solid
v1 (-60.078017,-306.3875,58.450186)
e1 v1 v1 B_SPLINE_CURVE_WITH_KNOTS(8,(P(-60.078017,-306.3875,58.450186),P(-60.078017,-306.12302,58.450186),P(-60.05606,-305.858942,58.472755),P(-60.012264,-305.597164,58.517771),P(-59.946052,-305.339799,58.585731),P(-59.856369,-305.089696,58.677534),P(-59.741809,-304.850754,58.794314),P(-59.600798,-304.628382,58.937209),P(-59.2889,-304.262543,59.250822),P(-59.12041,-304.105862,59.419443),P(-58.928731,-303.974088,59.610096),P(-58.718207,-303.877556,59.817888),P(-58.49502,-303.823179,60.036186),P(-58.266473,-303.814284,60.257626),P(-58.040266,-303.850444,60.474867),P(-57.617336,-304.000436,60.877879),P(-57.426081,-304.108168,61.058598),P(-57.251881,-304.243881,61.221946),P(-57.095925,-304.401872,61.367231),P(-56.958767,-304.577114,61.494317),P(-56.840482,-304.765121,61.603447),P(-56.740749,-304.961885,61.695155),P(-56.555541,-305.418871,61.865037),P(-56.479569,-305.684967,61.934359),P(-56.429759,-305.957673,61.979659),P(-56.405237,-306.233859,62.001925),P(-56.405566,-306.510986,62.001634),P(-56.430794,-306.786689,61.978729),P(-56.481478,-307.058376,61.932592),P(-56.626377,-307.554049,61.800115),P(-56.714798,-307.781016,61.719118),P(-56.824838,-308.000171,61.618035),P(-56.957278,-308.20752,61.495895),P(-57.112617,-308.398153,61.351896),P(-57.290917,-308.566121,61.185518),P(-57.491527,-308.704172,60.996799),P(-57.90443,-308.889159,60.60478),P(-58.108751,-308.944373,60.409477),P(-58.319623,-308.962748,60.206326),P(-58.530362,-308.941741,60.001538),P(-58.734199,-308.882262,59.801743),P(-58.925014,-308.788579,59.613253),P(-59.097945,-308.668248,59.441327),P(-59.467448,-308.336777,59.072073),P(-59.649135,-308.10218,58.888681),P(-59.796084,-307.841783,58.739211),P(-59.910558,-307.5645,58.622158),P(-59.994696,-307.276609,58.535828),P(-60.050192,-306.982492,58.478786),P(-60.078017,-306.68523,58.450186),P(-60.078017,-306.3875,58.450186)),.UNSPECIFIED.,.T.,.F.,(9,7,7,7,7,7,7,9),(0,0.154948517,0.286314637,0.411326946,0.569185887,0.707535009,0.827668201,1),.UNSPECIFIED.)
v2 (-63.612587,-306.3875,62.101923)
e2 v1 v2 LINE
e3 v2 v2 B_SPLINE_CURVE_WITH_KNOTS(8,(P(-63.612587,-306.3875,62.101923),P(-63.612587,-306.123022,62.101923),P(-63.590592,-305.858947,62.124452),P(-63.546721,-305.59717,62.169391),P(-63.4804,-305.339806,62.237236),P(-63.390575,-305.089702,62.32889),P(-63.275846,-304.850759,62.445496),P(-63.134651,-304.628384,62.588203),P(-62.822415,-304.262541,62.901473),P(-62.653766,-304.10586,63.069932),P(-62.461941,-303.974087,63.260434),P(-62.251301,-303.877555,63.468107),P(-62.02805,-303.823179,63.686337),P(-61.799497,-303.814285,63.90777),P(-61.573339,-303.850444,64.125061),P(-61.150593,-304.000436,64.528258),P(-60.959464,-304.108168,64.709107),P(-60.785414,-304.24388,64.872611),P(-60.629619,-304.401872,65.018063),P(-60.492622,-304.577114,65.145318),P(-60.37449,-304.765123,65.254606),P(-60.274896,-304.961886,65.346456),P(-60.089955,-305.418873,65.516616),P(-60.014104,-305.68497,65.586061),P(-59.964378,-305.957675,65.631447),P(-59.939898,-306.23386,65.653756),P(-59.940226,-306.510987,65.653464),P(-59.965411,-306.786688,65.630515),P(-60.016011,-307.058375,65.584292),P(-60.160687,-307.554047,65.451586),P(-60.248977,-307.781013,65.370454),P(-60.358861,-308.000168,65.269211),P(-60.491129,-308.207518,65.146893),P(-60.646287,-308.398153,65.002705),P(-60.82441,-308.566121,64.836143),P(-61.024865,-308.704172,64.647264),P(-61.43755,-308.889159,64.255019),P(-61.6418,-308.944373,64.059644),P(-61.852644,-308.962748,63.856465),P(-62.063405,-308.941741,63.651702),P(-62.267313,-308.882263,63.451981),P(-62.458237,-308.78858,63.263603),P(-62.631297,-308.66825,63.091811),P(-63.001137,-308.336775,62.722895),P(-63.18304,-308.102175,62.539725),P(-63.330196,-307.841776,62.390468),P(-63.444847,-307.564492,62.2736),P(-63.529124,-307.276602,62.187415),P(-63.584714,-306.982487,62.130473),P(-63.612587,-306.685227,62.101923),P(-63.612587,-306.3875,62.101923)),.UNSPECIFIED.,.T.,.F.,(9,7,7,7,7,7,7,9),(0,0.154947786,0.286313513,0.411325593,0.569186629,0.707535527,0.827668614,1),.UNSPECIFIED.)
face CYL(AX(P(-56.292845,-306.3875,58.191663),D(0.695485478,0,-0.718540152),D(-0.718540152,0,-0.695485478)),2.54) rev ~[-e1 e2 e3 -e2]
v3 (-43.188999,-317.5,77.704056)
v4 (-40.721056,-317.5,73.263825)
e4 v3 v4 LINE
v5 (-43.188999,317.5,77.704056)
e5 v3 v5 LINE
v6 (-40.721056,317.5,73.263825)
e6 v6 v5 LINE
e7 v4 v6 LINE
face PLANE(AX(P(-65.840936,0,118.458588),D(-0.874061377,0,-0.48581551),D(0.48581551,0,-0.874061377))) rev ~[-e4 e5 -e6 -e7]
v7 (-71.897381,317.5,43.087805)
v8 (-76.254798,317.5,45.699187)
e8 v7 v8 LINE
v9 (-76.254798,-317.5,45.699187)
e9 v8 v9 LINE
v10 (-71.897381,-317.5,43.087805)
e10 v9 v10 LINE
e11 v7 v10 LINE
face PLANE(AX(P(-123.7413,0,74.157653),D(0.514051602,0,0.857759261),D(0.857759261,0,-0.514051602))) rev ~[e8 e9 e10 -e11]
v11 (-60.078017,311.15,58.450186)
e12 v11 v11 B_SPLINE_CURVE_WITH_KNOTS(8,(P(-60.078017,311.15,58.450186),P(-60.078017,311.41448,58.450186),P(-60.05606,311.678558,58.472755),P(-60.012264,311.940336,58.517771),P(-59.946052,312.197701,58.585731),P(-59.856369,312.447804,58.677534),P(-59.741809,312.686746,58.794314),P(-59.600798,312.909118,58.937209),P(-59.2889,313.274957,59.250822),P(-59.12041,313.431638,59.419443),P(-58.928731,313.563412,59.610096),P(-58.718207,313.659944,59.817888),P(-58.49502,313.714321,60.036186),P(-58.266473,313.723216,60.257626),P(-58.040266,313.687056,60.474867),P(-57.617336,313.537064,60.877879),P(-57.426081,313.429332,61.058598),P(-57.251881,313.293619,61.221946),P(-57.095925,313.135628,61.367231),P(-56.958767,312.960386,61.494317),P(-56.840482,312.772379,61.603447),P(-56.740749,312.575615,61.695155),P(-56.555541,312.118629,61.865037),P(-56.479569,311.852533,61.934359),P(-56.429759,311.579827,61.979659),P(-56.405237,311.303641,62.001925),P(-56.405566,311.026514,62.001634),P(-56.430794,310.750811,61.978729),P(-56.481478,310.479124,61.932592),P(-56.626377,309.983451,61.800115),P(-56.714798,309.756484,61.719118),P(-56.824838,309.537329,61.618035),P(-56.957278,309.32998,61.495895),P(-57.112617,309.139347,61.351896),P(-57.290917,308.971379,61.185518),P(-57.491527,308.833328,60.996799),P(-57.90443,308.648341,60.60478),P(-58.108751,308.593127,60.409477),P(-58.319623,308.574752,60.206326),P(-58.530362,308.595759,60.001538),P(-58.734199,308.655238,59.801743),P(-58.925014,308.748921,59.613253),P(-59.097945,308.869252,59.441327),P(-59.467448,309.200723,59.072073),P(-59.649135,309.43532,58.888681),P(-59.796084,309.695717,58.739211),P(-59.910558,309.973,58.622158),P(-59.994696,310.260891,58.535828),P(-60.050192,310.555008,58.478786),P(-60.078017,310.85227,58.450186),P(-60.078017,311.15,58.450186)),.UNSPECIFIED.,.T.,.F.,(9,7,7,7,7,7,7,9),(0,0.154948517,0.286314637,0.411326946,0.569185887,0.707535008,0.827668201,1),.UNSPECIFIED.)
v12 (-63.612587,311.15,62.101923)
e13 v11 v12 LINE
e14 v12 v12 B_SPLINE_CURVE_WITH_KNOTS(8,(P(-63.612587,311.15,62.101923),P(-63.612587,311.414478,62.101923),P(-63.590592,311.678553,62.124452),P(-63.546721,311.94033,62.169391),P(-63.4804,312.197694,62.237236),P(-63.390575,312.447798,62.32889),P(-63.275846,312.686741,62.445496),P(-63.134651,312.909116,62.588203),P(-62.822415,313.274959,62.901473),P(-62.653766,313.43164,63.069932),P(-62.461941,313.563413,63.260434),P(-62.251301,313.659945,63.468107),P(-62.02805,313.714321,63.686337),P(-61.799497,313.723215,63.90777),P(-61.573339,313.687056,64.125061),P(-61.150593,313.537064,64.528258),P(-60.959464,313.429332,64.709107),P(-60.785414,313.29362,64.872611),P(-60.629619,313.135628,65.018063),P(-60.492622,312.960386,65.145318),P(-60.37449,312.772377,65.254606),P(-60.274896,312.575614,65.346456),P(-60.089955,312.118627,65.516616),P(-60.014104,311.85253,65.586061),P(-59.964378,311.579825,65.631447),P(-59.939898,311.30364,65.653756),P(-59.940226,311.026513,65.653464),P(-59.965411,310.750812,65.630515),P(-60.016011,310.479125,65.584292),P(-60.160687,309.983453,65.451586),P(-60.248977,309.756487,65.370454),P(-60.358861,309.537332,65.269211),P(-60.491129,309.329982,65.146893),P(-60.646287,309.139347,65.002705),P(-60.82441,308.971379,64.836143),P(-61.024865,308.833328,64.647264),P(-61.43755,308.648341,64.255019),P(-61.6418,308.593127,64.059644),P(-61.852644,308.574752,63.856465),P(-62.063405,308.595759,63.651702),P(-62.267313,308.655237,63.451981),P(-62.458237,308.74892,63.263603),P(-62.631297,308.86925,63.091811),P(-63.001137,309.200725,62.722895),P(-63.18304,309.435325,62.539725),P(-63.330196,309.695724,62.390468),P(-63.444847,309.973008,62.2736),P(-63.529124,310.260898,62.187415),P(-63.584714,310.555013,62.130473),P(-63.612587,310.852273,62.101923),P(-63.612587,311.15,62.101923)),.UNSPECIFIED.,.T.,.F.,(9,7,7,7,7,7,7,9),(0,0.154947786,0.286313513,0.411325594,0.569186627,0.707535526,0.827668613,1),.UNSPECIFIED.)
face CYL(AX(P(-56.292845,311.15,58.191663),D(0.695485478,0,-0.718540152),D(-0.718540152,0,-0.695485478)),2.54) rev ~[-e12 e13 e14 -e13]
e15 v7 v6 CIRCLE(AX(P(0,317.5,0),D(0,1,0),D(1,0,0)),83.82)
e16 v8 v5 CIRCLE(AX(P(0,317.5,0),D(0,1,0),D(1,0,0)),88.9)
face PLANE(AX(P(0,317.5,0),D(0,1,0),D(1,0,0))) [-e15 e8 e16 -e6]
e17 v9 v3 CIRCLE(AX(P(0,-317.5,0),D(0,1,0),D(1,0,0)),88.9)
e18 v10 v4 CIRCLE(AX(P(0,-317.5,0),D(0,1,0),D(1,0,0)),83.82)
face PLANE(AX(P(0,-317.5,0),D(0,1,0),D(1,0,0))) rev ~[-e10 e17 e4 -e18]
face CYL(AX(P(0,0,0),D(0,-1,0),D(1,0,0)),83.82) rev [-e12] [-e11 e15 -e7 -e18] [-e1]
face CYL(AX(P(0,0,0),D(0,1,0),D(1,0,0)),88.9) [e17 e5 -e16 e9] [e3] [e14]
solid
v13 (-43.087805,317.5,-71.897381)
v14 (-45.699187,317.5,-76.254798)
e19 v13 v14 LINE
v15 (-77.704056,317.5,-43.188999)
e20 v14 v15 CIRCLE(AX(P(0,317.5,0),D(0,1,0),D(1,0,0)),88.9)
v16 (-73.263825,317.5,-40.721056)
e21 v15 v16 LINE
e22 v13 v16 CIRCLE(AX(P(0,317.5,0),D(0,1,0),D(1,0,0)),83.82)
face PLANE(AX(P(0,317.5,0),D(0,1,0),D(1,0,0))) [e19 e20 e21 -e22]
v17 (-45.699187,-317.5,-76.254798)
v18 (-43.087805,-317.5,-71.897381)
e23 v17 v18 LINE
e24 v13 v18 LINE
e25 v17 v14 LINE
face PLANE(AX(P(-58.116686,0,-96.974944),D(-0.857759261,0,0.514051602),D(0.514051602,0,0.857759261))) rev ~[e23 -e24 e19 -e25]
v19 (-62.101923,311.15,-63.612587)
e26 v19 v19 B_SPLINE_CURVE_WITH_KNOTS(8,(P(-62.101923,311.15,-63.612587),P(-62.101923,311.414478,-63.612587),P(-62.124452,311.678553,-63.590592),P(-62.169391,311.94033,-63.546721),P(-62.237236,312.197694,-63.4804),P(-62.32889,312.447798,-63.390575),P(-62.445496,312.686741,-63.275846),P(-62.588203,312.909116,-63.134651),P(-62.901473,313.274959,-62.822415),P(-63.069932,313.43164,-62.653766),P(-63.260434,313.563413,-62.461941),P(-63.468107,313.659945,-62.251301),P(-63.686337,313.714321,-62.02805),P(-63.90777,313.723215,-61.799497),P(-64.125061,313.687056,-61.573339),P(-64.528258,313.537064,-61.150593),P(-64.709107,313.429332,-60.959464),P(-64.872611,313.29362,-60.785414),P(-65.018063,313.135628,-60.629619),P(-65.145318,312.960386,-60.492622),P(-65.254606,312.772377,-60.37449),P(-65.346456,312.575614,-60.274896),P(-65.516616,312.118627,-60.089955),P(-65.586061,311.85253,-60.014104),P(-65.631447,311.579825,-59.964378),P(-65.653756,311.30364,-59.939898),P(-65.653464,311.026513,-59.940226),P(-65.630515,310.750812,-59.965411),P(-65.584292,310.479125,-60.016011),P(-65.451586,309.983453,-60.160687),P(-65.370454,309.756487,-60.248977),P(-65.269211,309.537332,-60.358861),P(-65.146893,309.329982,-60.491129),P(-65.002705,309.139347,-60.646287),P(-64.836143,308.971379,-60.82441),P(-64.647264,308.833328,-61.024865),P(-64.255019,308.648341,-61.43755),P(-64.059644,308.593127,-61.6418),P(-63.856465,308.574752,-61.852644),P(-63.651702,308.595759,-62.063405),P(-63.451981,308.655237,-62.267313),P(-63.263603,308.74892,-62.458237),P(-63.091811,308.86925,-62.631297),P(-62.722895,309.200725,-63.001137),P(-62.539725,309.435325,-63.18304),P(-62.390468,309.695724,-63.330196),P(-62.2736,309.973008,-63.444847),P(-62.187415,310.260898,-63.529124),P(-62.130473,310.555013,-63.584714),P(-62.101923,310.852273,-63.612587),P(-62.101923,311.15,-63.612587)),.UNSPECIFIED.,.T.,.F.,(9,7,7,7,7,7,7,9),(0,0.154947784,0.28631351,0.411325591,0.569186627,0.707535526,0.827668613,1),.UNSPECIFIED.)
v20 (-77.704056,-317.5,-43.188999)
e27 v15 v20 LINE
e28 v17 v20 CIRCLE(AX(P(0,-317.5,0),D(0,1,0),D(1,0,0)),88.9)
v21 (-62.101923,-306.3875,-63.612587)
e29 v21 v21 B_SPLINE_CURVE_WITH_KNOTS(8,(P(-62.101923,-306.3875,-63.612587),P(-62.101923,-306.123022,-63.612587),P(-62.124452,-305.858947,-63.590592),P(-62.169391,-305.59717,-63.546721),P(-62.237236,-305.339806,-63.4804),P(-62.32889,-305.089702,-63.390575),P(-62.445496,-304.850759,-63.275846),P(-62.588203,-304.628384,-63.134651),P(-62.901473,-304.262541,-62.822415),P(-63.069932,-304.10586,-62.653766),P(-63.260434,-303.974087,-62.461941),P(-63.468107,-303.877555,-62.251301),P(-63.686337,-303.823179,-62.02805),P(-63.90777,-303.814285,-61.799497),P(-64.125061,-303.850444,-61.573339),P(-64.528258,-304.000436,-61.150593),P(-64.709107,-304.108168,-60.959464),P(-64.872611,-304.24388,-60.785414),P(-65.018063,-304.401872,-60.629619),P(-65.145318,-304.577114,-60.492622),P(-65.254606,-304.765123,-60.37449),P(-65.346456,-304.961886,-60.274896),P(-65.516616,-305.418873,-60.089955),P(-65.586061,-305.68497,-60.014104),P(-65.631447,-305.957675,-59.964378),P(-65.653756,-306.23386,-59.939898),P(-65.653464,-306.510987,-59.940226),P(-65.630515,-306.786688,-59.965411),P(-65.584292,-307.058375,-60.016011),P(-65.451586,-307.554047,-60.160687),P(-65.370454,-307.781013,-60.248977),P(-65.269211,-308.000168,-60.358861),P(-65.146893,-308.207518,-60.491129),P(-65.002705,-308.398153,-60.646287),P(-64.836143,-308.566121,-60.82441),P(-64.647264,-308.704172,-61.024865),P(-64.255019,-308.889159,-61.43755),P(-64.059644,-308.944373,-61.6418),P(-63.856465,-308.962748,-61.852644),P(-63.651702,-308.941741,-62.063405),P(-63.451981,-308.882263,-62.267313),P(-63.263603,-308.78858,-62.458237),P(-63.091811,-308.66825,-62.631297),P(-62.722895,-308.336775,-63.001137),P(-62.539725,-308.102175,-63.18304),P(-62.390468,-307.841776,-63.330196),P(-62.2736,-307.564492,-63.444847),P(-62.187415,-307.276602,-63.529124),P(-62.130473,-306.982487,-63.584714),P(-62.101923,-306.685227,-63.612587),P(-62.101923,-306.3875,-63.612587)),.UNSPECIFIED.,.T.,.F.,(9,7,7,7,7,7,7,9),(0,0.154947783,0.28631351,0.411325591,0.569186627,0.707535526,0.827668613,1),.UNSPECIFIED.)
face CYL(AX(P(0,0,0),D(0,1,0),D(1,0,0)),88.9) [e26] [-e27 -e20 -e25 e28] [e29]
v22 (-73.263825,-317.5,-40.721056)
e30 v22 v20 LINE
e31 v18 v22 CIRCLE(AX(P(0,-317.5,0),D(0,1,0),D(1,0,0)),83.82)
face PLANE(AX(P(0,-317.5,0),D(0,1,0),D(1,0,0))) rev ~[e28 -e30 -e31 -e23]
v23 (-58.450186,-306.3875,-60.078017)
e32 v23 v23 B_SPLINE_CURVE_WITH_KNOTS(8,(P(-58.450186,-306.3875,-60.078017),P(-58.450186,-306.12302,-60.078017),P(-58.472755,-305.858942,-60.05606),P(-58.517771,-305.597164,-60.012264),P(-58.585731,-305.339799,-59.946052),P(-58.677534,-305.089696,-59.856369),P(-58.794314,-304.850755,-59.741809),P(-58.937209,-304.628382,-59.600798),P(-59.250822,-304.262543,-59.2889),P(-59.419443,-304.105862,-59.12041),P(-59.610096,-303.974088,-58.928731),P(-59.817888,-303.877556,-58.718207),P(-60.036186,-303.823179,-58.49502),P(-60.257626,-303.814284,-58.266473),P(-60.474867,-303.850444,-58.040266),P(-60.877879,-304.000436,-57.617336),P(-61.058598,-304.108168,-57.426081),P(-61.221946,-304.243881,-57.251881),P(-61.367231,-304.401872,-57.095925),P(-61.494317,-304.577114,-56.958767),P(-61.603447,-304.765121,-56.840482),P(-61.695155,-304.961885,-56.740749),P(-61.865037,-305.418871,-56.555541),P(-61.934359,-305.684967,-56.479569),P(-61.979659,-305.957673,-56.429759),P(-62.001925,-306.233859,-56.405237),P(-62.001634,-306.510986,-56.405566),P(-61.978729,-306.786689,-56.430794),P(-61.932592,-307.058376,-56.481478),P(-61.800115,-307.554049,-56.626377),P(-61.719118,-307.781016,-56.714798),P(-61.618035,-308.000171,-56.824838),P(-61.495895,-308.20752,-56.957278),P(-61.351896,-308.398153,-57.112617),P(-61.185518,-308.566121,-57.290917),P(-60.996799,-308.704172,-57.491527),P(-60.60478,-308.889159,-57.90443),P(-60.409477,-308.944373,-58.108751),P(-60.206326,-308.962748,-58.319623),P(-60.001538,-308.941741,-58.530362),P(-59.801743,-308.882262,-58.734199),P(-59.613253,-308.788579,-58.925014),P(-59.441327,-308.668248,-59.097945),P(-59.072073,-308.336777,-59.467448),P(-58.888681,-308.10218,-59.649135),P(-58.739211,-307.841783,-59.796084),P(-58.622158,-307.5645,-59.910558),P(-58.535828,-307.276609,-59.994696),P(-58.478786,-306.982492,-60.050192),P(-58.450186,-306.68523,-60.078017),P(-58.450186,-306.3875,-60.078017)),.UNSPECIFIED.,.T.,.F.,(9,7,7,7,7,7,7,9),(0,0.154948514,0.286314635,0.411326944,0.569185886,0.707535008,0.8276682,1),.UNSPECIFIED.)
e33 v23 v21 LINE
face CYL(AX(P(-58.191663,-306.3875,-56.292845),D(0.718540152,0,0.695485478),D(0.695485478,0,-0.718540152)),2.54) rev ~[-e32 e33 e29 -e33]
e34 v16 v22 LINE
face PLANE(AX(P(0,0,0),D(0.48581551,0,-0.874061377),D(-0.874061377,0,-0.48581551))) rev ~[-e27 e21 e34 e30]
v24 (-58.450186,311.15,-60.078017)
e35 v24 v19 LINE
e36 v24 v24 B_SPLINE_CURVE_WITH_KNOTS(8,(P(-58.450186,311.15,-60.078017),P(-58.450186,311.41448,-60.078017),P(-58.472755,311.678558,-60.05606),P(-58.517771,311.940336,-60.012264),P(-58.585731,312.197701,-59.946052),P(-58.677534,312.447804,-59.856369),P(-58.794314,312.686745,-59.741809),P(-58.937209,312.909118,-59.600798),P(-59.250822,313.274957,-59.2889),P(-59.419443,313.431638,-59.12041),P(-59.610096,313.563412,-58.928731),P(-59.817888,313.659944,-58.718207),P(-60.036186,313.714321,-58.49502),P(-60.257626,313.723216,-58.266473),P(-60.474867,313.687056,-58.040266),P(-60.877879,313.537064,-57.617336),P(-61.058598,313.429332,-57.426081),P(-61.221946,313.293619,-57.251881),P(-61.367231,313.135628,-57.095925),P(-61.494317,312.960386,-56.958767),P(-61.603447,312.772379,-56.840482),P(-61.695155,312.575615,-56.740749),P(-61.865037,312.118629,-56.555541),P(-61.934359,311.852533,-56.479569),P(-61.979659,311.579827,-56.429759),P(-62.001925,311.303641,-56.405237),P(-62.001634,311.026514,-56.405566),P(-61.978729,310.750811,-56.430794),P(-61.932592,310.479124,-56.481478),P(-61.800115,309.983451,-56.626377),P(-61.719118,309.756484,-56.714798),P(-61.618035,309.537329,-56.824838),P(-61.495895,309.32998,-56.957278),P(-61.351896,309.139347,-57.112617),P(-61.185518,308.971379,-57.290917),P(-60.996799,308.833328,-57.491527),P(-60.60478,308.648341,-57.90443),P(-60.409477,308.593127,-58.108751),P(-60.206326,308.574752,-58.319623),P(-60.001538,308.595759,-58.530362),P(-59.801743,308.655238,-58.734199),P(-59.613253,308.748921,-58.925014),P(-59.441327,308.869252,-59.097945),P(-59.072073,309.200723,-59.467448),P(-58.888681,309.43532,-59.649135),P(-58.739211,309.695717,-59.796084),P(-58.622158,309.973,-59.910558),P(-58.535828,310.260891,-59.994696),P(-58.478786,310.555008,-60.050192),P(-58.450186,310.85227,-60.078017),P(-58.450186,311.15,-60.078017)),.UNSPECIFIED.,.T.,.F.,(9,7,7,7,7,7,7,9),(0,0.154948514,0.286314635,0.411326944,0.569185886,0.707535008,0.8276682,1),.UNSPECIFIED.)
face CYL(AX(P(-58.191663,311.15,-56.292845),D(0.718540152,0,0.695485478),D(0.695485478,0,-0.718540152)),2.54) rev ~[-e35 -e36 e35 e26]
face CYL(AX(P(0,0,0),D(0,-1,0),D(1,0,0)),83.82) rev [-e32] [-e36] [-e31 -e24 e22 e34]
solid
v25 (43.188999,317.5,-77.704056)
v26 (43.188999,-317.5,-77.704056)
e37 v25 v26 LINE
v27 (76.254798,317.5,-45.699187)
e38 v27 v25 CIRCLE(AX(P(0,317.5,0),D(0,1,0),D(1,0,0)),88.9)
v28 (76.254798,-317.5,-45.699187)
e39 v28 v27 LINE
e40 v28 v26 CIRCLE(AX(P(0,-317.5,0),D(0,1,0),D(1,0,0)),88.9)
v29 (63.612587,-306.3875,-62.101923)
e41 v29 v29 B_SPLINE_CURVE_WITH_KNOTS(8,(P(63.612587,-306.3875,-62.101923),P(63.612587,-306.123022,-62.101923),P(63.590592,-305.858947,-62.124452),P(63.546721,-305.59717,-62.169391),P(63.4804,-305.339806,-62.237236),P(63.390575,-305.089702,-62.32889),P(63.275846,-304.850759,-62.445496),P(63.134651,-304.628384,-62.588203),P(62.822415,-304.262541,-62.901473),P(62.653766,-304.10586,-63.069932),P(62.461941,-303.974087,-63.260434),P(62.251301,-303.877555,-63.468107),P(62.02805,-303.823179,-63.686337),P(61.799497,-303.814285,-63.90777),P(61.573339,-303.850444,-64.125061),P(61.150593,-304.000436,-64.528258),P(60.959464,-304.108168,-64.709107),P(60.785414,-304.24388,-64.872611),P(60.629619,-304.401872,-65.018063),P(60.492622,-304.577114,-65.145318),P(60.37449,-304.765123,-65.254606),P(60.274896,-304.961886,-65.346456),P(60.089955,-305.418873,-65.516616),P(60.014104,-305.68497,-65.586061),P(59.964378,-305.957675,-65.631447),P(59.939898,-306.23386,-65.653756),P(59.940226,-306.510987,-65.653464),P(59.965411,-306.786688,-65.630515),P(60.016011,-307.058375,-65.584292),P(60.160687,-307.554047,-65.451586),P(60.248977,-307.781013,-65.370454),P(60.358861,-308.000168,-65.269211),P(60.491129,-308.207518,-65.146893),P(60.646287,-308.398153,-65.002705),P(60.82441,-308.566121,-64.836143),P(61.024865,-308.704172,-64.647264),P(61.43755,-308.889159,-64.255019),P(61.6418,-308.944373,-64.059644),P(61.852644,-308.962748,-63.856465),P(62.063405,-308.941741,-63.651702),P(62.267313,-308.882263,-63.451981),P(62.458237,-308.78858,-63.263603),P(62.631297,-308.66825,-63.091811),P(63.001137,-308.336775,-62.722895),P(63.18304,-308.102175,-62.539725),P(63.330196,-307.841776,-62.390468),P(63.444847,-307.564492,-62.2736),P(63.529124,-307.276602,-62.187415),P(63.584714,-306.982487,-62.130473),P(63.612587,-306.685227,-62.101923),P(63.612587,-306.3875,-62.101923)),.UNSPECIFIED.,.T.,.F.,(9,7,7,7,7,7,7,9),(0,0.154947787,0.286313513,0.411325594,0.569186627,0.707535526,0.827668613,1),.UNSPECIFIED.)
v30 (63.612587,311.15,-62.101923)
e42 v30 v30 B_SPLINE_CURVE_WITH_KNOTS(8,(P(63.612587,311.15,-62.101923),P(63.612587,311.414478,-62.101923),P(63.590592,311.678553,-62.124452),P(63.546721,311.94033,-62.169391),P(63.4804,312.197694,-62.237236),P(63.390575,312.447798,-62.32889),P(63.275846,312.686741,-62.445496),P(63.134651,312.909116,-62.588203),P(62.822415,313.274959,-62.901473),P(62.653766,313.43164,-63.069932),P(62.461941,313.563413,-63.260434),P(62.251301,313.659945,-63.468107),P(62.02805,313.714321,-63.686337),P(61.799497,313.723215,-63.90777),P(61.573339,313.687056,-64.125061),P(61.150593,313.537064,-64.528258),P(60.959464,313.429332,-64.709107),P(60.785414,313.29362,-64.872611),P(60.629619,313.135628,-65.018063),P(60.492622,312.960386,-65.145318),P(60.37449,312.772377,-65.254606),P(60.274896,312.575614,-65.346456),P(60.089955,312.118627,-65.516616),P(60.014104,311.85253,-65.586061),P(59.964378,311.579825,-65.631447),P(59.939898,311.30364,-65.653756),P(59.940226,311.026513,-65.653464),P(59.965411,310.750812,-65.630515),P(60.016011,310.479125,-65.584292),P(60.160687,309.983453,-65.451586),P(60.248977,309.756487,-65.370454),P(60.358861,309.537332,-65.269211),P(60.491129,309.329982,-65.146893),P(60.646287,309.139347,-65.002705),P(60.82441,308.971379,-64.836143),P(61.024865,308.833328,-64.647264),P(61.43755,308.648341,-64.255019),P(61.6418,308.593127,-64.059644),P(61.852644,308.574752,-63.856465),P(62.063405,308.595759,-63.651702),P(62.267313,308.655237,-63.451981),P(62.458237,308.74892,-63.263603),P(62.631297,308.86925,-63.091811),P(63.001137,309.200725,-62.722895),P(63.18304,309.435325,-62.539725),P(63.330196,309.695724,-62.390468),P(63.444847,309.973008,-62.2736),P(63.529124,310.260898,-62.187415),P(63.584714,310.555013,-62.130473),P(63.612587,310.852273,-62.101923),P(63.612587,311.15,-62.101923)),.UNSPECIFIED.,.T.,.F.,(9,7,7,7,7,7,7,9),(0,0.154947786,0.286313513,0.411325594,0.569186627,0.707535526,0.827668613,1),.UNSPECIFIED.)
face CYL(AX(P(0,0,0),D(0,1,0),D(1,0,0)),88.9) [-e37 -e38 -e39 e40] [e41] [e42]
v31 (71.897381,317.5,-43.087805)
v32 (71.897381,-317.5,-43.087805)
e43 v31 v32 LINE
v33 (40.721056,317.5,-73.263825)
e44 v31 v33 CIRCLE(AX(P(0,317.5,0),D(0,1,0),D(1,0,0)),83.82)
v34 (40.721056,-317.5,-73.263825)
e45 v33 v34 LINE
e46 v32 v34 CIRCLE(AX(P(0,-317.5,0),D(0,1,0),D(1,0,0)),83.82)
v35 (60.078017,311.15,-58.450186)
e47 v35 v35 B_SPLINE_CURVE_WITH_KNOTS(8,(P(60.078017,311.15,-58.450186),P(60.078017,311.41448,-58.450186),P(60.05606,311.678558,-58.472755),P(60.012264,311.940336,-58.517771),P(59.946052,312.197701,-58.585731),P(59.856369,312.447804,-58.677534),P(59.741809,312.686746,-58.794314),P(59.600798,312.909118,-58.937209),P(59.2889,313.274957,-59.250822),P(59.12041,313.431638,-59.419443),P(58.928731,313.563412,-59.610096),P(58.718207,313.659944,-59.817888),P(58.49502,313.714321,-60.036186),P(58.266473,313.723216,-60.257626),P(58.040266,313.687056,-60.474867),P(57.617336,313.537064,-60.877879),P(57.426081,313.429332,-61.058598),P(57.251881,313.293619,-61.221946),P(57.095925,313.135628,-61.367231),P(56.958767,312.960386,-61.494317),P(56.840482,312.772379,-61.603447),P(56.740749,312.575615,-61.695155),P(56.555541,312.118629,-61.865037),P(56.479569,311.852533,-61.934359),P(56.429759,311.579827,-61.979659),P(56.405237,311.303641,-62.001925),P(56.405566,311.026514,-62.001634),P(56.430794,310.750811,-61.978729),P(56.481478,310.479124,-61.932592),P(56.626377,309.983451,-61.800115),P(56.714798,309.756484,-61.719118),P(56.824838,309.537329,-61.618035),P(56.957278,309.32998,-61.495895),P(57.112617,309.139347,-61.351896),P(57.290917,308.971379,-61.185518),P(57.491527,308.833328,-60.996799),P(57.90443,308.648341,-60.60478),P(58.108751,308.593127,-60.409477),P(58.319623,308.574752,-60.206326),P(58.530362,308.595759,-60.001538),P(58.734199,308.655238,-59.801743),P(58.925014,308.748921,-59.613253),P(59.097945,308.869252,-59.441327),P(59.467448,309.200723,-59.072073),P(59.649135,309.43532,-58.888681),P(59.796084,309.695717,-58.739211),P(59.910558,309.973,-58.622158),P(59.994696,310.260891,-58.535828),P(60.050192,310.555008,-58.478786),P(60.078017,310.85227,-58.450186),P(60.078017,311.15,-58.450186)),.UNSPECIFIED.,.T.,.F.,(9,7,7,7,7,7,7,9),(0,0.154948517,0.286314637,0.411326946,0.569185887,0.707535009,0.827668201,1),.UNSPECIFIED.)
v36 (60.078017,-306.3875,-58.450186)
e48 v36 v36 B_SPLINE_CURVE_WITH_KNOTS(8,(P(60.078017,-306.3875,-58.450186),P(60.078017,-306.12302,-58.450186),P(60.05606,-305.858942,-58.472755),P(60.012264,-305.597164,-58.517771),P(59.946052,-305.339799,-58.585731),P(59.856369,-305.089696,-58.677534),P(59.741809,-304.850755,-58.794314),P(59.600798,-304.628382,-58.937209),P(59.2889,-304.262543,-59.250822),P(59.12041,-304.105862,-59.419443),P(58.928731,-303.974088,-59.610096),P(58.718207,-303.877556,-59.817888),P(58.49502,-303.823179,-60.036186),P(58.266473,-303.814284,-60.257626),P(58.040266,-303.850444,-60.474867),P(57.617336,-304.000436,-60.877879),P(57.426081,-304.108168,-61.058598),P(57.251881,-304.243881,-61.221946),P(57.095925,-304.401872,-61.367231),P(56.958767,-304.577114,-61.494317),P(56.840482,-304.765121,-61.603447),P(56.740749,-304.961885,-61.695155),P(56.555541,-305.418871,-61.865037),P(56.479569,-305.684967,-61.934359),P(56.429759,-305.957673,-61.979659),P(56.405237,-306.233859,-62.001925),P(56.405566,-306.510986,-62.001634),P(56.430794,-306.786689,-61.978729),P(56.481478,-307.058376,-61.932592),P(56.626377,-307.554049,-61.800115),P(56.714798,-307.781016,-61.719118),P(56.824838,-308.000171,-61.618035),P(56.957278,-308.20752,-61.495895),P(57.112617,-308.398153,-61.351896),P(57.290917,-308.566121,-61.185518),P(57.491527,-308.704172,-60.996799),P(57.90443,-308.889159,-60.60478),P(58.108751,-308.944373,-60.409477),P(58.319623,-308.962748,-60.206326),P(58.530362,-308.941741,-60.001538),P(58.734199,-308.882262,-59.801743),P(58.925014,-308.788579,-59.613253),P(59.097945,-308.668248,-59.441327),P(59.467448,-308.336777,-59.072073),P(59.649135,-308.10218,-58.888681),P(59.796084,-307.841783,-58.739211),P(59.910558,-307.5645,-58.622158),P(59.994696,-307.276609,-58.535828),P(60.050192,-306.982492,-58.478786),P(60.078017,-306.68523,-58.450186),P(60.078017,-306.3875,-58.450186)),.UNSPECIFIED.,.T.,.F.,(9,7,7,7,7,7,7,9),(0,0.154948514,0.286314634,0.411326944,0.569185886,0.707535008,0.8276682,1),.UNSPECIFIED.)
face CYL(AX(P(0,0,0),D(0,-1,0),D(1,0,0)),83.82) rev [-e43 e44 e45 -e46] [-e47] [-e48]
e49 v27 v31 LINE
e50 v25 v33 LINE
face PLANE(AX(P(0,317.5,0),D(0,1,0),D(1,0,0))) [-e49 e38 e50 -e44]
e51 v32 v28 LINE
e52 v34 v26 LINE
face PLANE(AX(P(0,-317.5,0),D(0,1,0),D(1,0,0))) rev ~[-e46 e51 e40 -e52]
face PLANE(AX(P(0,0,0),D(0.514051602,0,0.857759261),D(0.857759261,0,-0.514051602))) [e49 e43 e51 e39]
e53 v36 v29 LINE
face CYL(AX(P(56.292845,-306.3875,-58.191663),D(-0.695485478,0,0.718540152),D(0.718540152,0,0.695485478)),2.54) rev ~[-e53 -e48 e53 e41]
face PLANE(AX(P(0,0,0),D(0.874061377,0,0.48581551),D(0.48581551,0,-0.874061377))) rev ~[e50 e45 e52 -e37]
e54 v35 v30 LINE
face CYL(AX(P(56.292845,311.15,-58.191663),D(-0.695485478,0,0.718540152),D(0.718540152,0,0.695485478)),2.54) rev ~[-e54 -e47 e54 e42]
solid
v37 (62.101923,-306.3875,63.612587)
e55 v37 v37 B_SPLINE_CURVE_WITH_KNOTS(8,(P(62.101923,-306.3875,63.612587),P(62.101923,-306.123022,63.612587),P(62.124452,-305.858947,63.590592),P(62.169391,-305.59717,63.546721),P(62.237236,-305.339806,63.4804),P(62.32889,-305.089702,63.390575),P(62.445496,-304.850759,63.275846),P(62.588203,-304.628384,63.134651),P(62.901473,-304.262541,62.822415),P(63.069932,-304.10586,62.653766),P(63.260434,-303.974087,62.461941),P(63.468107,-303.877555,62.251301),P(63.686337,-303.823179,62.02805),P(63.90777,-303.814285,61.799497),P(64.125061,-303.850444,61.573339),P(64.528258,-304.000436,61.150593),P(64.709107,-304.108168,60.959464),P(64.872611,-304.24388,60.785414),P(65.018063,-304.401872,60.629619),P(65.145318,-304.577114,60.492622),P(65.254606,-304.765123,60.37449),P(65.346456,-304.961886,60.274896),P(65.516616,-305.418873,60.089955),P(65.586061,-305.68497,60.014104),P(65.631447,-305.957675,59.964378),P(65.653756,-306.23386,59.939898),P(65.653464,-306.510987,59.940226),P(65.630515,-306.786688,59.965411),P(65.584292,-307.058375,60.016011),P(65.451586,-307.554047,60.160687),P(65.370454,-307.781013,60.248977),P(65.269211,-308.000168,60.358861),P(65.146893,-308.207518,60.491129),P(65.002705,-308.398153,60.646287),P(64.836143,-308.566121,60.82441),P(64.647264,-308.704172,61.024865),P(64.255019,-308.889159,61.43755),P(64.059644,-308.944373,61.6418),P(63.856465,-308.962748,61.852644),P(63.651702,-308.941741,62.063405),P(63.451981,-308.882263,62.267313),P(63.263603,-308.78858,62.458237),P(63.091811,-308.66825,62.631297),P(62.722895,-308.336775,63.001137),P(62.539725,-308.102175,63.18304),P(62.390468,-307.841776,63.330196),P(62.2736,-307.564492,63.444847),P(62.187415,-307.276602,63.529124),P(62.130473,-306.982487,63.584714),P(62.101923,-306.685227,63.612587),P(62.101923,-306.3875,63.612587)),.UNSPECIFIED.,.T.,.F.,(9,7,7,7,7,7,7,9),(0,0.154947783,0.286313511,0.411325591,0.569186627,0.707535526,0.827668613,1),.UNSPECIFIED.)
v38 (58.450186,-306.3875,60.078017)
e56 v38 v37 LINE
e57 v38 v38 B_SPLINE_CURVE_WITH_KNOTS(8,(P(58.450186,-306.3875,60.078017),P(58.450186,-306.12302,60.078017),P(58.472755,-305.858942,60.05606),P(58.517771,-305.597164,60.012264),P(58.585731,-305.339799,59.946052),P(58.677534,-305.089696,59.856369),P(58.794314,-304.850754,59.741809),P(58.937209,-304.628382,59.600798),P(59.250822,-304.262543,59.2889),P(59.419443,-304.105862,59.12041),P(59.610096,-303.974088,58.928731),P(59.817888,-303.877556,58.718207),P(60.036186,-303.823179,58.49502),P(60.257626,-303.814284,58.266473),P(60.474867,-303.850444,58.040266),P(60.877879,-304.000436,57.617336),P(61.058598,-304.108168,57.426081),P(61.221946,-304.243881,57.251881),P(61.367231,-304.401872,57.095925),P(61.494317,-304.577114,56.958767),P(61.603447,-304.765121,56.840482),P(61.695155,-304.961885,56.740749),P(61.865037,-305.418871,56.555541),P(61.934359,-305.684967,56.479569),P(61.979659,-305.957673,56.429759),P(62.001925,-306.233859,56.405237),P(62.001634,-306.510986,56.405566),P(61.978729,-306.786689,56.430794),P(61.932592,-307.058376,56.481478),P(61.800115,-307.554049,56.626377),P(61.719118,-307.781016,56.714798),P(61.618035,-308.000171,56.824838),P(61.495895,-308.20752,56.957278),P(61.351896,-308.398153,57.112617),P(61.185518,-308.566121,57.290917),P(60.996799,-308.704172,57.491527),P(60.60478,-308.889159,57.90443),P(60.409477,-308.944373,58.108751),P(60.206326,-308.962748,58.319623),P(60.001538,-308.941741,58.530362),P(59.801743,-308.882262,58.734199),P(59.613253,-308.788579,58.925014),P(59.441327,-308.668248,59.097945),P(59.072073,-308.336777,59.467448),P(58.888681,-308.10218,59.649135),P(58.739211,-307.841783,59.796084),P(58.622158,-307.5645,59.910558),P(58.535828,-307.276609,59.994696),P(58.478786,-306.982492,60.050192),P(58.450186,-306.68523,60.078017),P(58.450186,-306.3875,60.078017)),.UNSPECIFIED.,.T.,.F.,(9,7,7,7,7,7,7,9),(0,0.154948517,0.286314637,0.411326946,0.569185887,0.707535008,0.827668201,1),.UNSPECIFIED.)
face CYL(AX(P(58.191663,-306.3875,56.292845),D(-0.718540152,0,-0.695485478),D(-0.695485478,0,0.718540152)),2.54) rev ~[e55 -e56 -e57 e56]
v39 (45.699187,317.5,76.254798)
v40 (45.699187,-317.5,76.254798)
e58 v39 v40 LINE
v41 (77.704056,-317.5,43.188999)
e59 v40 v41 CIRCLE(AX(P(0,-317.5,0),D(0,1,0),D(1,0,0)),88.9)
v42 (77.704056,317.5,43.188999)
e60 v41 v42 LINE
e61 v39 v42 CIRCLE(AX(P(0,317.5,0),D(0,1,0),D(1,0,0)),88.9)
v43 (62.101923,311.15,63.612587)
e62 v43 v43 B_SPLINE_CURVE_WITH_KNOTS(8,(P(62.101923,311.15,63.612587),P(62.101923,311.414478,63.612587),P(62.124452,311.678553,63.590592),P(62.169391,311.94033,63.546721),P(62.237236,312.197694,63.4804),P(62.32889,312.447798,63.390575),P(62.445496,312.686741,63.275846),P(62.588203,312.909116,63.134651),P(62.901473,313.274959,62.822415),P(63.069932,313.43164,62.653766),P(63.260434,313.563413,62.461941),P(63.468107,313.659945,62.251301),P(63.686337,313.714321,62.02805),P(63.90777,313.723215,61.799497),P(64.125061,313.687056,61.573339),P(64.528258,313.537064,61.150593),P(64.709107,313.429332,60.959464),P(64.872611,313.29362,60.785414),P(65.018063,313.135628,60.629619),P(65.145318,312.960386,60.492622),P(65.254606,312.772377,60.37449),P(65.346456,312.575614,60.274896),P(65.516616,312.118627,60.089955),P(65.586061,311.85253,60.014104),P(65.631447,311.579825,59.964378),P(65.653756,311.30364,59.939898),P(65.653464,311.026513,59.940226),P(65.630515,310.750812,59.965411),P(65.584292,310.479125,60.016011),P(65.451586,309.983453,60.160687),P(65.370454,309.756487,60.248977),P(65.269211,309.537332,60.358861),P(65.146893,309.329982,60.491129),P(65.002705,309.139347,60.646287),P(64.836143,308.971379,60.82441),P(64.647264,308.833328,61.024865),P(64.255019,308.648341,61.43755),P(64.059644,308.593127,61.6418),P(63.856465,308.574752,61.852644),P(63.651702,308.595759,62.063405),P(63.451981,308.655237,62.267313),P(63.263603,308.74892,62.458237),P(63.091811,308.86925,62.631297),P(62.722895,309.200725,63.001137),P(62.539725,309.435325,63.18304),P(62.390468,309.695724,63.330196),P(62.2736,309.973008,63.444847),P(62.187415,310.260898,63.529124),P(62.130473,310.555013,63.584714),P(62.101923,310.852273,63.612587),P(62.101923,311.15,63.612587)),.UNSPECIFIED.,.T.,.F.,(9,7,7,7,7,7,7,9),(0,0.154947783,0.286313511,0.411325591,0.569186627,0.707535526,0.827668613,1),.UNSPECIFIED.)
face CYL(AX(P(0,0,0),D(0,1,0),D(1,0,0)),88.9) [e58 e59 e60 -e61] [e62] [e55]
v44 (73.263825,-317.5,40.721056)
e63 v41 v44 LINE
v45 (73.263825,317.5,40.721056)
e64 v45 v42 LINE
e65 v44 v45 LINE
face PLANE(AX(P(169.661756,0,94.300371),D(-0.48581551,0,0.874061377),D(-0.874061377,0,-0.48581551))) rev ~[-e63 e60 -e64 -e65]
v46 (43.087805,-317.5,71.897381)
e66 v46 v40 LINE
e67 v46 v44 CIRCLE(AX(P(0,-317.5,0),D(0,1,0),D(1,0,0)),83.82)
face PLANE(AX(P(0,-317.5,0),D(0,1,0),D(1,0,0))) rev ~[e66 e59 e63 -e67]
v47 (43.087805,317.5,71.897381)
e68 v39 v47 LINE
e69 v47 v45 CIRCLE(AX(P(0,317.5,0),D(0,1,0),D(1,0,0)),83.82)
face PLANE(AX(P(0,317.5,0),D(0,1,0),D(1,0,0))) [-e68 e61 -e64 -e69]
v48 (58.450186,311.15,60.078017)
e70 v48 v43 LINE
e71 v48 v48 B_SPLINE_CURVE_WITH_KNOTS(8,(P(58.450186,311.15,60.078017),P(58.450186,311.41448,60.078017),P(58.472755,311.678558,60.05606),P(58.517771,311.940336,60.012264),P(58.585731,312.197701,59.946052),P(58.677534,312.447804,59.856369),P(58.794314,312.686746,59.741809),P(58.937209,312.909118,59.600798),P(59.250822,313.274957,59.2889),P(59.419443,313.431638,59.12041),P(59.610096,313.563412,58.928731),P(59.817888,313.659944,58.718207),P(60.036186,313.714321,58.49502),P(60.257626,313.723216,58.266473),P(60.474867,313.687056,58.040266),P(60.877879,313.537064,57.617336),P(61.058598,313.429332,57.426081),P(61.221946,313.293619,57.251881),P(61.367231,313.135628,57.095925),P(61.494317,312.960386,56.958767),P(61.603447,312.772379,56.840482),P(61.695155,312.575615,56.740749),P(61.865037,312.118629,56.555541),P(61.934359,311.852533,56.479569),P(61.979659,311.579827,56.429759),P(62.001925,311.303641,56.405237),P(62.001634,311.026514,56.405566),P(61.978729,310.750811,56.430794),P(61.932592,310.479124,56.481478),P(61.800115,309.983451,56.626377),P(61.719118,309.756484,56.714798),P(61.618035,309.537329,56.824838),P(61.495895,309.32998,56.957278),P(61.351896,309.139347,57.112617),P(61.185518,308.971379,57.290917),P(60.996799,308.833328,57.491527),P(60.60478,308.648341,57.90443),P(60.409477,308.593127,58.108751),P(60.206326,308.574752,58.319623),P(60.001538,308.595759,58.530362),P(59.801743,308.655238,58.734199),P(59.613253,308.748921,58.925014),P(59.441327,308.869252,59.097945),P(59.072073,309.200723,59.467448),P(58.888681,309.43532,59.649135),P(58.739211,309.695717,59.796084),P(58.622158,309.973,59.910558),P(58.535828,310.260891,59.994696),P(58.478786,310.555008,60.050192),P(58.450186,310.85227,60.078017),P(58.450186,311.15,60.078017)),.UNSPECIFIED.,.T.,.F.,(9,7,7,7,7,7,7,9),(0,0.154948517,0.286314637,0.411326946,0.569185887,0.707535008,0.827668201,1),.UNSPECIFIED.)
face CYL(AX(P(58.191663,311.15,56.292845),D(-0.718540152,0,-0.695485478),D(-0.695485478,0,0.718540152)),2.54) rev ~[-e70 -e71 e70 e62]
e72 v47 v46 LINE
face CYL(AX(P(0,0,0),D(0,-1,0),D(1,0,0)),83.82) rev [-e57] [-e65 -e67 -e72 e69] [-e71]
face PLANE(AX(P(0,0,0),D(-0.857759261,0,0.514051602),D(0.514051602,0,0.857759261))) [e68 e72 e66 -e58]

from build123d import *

# Parameters (mm, degrees)
SKETCH2_R               = 88.9
SKETCH2_R_2             = 83.82
BOSS_EXTRUDE1_DEPTH     = 317.5
CUT_EXTRUDE1_DEPTH      = 318.5
CUT_EXTRUDE1_DEPTH_BACK = 318.5
SKETCH5_R               = 2.54
BOLT_HOLES_DEPTH        = 29.911624556
BOLT_PATTERN_COUNT      = 4


with BuildPart() as part:
    # Sketch2 → Boss-Extrude1 (new body, symmetric)
    with BuildSketch(Plane(origin=(0, 0, 0), x_dir=(1, 0, 0), z_dir=(0, 1, 0))):
        Circle(SKETCH2_R)
        Circle(SKETCH2_R_2, mode=Mode.SUBTRACT)
    extrude(amount=BOSS_EXTRUDE1_DEPTH, both=True)

    # Sketch3 → Cut-Extrude1 (cut, two sides)
    with BuildSketch(Plane(origin=(0, 0, 0), x_dir=(1, 0, 0), z_dir=(0, 1, 0))) as cut_extrude1_sk:
        Polygon((169.661755759, -94.300371224), (0, 0), (169.661755759, 101.677593364), align=None)
        Polygon((0, 0), (53.900027233, 96.974944394), (-58.116685864, 96.974944394), align=None)
        Polygon((-123.741299607, 68.777140945), (-123.741299607, -74.157652604), (0, 0), align=None)
        Polygon((-65.840936026, -118.45858783), (0, 0), (70.991745134, -118.45858783), align=None)
    extrude(amount=CUT_EXTRUDE1_DEPTH, mode=Mode.SUBTRACT)
    extrude(cut_extrude1_sk.sketch, amount=-CUT_EXTRUDE1_DEPTH_BACK, mode=Mode.SUBTRACT)

    # Sketch5 → Bolt holes (cut, through all)
    with BuildSketch(Plane(origin=(-56.309218645, 0, 58.175814955), x_dir=(-0.718540152, 0, -0.695485478), z_dir=(0.695485478, 0, -0.718540152))):
        with Locations((-0.02278764, 311.15)):
            Circle(SKETCH5_R)
        with Locations((-0.02278764, -306.3875)):
            Circle(SKETCH5_R)
    bolt_holes = extrude(amount=-BOLT_HOLES_DEPTH, mode=Mode.SUBTRACT)

    # Bolt pattern: Bolt holes ×4 about axis
    bolt_pattern_axis = Axis((0, 317.5, 0), (0, 1, 0))
    for i in range(1, BOLT_PATTERN_COUNT):
        add(bolt_holes.rotate(bolt_pattern_axis, i * 360 / BOLT_PATTERN_COUNT), mode=Mode.SUBTRACT)


solid = part.part
